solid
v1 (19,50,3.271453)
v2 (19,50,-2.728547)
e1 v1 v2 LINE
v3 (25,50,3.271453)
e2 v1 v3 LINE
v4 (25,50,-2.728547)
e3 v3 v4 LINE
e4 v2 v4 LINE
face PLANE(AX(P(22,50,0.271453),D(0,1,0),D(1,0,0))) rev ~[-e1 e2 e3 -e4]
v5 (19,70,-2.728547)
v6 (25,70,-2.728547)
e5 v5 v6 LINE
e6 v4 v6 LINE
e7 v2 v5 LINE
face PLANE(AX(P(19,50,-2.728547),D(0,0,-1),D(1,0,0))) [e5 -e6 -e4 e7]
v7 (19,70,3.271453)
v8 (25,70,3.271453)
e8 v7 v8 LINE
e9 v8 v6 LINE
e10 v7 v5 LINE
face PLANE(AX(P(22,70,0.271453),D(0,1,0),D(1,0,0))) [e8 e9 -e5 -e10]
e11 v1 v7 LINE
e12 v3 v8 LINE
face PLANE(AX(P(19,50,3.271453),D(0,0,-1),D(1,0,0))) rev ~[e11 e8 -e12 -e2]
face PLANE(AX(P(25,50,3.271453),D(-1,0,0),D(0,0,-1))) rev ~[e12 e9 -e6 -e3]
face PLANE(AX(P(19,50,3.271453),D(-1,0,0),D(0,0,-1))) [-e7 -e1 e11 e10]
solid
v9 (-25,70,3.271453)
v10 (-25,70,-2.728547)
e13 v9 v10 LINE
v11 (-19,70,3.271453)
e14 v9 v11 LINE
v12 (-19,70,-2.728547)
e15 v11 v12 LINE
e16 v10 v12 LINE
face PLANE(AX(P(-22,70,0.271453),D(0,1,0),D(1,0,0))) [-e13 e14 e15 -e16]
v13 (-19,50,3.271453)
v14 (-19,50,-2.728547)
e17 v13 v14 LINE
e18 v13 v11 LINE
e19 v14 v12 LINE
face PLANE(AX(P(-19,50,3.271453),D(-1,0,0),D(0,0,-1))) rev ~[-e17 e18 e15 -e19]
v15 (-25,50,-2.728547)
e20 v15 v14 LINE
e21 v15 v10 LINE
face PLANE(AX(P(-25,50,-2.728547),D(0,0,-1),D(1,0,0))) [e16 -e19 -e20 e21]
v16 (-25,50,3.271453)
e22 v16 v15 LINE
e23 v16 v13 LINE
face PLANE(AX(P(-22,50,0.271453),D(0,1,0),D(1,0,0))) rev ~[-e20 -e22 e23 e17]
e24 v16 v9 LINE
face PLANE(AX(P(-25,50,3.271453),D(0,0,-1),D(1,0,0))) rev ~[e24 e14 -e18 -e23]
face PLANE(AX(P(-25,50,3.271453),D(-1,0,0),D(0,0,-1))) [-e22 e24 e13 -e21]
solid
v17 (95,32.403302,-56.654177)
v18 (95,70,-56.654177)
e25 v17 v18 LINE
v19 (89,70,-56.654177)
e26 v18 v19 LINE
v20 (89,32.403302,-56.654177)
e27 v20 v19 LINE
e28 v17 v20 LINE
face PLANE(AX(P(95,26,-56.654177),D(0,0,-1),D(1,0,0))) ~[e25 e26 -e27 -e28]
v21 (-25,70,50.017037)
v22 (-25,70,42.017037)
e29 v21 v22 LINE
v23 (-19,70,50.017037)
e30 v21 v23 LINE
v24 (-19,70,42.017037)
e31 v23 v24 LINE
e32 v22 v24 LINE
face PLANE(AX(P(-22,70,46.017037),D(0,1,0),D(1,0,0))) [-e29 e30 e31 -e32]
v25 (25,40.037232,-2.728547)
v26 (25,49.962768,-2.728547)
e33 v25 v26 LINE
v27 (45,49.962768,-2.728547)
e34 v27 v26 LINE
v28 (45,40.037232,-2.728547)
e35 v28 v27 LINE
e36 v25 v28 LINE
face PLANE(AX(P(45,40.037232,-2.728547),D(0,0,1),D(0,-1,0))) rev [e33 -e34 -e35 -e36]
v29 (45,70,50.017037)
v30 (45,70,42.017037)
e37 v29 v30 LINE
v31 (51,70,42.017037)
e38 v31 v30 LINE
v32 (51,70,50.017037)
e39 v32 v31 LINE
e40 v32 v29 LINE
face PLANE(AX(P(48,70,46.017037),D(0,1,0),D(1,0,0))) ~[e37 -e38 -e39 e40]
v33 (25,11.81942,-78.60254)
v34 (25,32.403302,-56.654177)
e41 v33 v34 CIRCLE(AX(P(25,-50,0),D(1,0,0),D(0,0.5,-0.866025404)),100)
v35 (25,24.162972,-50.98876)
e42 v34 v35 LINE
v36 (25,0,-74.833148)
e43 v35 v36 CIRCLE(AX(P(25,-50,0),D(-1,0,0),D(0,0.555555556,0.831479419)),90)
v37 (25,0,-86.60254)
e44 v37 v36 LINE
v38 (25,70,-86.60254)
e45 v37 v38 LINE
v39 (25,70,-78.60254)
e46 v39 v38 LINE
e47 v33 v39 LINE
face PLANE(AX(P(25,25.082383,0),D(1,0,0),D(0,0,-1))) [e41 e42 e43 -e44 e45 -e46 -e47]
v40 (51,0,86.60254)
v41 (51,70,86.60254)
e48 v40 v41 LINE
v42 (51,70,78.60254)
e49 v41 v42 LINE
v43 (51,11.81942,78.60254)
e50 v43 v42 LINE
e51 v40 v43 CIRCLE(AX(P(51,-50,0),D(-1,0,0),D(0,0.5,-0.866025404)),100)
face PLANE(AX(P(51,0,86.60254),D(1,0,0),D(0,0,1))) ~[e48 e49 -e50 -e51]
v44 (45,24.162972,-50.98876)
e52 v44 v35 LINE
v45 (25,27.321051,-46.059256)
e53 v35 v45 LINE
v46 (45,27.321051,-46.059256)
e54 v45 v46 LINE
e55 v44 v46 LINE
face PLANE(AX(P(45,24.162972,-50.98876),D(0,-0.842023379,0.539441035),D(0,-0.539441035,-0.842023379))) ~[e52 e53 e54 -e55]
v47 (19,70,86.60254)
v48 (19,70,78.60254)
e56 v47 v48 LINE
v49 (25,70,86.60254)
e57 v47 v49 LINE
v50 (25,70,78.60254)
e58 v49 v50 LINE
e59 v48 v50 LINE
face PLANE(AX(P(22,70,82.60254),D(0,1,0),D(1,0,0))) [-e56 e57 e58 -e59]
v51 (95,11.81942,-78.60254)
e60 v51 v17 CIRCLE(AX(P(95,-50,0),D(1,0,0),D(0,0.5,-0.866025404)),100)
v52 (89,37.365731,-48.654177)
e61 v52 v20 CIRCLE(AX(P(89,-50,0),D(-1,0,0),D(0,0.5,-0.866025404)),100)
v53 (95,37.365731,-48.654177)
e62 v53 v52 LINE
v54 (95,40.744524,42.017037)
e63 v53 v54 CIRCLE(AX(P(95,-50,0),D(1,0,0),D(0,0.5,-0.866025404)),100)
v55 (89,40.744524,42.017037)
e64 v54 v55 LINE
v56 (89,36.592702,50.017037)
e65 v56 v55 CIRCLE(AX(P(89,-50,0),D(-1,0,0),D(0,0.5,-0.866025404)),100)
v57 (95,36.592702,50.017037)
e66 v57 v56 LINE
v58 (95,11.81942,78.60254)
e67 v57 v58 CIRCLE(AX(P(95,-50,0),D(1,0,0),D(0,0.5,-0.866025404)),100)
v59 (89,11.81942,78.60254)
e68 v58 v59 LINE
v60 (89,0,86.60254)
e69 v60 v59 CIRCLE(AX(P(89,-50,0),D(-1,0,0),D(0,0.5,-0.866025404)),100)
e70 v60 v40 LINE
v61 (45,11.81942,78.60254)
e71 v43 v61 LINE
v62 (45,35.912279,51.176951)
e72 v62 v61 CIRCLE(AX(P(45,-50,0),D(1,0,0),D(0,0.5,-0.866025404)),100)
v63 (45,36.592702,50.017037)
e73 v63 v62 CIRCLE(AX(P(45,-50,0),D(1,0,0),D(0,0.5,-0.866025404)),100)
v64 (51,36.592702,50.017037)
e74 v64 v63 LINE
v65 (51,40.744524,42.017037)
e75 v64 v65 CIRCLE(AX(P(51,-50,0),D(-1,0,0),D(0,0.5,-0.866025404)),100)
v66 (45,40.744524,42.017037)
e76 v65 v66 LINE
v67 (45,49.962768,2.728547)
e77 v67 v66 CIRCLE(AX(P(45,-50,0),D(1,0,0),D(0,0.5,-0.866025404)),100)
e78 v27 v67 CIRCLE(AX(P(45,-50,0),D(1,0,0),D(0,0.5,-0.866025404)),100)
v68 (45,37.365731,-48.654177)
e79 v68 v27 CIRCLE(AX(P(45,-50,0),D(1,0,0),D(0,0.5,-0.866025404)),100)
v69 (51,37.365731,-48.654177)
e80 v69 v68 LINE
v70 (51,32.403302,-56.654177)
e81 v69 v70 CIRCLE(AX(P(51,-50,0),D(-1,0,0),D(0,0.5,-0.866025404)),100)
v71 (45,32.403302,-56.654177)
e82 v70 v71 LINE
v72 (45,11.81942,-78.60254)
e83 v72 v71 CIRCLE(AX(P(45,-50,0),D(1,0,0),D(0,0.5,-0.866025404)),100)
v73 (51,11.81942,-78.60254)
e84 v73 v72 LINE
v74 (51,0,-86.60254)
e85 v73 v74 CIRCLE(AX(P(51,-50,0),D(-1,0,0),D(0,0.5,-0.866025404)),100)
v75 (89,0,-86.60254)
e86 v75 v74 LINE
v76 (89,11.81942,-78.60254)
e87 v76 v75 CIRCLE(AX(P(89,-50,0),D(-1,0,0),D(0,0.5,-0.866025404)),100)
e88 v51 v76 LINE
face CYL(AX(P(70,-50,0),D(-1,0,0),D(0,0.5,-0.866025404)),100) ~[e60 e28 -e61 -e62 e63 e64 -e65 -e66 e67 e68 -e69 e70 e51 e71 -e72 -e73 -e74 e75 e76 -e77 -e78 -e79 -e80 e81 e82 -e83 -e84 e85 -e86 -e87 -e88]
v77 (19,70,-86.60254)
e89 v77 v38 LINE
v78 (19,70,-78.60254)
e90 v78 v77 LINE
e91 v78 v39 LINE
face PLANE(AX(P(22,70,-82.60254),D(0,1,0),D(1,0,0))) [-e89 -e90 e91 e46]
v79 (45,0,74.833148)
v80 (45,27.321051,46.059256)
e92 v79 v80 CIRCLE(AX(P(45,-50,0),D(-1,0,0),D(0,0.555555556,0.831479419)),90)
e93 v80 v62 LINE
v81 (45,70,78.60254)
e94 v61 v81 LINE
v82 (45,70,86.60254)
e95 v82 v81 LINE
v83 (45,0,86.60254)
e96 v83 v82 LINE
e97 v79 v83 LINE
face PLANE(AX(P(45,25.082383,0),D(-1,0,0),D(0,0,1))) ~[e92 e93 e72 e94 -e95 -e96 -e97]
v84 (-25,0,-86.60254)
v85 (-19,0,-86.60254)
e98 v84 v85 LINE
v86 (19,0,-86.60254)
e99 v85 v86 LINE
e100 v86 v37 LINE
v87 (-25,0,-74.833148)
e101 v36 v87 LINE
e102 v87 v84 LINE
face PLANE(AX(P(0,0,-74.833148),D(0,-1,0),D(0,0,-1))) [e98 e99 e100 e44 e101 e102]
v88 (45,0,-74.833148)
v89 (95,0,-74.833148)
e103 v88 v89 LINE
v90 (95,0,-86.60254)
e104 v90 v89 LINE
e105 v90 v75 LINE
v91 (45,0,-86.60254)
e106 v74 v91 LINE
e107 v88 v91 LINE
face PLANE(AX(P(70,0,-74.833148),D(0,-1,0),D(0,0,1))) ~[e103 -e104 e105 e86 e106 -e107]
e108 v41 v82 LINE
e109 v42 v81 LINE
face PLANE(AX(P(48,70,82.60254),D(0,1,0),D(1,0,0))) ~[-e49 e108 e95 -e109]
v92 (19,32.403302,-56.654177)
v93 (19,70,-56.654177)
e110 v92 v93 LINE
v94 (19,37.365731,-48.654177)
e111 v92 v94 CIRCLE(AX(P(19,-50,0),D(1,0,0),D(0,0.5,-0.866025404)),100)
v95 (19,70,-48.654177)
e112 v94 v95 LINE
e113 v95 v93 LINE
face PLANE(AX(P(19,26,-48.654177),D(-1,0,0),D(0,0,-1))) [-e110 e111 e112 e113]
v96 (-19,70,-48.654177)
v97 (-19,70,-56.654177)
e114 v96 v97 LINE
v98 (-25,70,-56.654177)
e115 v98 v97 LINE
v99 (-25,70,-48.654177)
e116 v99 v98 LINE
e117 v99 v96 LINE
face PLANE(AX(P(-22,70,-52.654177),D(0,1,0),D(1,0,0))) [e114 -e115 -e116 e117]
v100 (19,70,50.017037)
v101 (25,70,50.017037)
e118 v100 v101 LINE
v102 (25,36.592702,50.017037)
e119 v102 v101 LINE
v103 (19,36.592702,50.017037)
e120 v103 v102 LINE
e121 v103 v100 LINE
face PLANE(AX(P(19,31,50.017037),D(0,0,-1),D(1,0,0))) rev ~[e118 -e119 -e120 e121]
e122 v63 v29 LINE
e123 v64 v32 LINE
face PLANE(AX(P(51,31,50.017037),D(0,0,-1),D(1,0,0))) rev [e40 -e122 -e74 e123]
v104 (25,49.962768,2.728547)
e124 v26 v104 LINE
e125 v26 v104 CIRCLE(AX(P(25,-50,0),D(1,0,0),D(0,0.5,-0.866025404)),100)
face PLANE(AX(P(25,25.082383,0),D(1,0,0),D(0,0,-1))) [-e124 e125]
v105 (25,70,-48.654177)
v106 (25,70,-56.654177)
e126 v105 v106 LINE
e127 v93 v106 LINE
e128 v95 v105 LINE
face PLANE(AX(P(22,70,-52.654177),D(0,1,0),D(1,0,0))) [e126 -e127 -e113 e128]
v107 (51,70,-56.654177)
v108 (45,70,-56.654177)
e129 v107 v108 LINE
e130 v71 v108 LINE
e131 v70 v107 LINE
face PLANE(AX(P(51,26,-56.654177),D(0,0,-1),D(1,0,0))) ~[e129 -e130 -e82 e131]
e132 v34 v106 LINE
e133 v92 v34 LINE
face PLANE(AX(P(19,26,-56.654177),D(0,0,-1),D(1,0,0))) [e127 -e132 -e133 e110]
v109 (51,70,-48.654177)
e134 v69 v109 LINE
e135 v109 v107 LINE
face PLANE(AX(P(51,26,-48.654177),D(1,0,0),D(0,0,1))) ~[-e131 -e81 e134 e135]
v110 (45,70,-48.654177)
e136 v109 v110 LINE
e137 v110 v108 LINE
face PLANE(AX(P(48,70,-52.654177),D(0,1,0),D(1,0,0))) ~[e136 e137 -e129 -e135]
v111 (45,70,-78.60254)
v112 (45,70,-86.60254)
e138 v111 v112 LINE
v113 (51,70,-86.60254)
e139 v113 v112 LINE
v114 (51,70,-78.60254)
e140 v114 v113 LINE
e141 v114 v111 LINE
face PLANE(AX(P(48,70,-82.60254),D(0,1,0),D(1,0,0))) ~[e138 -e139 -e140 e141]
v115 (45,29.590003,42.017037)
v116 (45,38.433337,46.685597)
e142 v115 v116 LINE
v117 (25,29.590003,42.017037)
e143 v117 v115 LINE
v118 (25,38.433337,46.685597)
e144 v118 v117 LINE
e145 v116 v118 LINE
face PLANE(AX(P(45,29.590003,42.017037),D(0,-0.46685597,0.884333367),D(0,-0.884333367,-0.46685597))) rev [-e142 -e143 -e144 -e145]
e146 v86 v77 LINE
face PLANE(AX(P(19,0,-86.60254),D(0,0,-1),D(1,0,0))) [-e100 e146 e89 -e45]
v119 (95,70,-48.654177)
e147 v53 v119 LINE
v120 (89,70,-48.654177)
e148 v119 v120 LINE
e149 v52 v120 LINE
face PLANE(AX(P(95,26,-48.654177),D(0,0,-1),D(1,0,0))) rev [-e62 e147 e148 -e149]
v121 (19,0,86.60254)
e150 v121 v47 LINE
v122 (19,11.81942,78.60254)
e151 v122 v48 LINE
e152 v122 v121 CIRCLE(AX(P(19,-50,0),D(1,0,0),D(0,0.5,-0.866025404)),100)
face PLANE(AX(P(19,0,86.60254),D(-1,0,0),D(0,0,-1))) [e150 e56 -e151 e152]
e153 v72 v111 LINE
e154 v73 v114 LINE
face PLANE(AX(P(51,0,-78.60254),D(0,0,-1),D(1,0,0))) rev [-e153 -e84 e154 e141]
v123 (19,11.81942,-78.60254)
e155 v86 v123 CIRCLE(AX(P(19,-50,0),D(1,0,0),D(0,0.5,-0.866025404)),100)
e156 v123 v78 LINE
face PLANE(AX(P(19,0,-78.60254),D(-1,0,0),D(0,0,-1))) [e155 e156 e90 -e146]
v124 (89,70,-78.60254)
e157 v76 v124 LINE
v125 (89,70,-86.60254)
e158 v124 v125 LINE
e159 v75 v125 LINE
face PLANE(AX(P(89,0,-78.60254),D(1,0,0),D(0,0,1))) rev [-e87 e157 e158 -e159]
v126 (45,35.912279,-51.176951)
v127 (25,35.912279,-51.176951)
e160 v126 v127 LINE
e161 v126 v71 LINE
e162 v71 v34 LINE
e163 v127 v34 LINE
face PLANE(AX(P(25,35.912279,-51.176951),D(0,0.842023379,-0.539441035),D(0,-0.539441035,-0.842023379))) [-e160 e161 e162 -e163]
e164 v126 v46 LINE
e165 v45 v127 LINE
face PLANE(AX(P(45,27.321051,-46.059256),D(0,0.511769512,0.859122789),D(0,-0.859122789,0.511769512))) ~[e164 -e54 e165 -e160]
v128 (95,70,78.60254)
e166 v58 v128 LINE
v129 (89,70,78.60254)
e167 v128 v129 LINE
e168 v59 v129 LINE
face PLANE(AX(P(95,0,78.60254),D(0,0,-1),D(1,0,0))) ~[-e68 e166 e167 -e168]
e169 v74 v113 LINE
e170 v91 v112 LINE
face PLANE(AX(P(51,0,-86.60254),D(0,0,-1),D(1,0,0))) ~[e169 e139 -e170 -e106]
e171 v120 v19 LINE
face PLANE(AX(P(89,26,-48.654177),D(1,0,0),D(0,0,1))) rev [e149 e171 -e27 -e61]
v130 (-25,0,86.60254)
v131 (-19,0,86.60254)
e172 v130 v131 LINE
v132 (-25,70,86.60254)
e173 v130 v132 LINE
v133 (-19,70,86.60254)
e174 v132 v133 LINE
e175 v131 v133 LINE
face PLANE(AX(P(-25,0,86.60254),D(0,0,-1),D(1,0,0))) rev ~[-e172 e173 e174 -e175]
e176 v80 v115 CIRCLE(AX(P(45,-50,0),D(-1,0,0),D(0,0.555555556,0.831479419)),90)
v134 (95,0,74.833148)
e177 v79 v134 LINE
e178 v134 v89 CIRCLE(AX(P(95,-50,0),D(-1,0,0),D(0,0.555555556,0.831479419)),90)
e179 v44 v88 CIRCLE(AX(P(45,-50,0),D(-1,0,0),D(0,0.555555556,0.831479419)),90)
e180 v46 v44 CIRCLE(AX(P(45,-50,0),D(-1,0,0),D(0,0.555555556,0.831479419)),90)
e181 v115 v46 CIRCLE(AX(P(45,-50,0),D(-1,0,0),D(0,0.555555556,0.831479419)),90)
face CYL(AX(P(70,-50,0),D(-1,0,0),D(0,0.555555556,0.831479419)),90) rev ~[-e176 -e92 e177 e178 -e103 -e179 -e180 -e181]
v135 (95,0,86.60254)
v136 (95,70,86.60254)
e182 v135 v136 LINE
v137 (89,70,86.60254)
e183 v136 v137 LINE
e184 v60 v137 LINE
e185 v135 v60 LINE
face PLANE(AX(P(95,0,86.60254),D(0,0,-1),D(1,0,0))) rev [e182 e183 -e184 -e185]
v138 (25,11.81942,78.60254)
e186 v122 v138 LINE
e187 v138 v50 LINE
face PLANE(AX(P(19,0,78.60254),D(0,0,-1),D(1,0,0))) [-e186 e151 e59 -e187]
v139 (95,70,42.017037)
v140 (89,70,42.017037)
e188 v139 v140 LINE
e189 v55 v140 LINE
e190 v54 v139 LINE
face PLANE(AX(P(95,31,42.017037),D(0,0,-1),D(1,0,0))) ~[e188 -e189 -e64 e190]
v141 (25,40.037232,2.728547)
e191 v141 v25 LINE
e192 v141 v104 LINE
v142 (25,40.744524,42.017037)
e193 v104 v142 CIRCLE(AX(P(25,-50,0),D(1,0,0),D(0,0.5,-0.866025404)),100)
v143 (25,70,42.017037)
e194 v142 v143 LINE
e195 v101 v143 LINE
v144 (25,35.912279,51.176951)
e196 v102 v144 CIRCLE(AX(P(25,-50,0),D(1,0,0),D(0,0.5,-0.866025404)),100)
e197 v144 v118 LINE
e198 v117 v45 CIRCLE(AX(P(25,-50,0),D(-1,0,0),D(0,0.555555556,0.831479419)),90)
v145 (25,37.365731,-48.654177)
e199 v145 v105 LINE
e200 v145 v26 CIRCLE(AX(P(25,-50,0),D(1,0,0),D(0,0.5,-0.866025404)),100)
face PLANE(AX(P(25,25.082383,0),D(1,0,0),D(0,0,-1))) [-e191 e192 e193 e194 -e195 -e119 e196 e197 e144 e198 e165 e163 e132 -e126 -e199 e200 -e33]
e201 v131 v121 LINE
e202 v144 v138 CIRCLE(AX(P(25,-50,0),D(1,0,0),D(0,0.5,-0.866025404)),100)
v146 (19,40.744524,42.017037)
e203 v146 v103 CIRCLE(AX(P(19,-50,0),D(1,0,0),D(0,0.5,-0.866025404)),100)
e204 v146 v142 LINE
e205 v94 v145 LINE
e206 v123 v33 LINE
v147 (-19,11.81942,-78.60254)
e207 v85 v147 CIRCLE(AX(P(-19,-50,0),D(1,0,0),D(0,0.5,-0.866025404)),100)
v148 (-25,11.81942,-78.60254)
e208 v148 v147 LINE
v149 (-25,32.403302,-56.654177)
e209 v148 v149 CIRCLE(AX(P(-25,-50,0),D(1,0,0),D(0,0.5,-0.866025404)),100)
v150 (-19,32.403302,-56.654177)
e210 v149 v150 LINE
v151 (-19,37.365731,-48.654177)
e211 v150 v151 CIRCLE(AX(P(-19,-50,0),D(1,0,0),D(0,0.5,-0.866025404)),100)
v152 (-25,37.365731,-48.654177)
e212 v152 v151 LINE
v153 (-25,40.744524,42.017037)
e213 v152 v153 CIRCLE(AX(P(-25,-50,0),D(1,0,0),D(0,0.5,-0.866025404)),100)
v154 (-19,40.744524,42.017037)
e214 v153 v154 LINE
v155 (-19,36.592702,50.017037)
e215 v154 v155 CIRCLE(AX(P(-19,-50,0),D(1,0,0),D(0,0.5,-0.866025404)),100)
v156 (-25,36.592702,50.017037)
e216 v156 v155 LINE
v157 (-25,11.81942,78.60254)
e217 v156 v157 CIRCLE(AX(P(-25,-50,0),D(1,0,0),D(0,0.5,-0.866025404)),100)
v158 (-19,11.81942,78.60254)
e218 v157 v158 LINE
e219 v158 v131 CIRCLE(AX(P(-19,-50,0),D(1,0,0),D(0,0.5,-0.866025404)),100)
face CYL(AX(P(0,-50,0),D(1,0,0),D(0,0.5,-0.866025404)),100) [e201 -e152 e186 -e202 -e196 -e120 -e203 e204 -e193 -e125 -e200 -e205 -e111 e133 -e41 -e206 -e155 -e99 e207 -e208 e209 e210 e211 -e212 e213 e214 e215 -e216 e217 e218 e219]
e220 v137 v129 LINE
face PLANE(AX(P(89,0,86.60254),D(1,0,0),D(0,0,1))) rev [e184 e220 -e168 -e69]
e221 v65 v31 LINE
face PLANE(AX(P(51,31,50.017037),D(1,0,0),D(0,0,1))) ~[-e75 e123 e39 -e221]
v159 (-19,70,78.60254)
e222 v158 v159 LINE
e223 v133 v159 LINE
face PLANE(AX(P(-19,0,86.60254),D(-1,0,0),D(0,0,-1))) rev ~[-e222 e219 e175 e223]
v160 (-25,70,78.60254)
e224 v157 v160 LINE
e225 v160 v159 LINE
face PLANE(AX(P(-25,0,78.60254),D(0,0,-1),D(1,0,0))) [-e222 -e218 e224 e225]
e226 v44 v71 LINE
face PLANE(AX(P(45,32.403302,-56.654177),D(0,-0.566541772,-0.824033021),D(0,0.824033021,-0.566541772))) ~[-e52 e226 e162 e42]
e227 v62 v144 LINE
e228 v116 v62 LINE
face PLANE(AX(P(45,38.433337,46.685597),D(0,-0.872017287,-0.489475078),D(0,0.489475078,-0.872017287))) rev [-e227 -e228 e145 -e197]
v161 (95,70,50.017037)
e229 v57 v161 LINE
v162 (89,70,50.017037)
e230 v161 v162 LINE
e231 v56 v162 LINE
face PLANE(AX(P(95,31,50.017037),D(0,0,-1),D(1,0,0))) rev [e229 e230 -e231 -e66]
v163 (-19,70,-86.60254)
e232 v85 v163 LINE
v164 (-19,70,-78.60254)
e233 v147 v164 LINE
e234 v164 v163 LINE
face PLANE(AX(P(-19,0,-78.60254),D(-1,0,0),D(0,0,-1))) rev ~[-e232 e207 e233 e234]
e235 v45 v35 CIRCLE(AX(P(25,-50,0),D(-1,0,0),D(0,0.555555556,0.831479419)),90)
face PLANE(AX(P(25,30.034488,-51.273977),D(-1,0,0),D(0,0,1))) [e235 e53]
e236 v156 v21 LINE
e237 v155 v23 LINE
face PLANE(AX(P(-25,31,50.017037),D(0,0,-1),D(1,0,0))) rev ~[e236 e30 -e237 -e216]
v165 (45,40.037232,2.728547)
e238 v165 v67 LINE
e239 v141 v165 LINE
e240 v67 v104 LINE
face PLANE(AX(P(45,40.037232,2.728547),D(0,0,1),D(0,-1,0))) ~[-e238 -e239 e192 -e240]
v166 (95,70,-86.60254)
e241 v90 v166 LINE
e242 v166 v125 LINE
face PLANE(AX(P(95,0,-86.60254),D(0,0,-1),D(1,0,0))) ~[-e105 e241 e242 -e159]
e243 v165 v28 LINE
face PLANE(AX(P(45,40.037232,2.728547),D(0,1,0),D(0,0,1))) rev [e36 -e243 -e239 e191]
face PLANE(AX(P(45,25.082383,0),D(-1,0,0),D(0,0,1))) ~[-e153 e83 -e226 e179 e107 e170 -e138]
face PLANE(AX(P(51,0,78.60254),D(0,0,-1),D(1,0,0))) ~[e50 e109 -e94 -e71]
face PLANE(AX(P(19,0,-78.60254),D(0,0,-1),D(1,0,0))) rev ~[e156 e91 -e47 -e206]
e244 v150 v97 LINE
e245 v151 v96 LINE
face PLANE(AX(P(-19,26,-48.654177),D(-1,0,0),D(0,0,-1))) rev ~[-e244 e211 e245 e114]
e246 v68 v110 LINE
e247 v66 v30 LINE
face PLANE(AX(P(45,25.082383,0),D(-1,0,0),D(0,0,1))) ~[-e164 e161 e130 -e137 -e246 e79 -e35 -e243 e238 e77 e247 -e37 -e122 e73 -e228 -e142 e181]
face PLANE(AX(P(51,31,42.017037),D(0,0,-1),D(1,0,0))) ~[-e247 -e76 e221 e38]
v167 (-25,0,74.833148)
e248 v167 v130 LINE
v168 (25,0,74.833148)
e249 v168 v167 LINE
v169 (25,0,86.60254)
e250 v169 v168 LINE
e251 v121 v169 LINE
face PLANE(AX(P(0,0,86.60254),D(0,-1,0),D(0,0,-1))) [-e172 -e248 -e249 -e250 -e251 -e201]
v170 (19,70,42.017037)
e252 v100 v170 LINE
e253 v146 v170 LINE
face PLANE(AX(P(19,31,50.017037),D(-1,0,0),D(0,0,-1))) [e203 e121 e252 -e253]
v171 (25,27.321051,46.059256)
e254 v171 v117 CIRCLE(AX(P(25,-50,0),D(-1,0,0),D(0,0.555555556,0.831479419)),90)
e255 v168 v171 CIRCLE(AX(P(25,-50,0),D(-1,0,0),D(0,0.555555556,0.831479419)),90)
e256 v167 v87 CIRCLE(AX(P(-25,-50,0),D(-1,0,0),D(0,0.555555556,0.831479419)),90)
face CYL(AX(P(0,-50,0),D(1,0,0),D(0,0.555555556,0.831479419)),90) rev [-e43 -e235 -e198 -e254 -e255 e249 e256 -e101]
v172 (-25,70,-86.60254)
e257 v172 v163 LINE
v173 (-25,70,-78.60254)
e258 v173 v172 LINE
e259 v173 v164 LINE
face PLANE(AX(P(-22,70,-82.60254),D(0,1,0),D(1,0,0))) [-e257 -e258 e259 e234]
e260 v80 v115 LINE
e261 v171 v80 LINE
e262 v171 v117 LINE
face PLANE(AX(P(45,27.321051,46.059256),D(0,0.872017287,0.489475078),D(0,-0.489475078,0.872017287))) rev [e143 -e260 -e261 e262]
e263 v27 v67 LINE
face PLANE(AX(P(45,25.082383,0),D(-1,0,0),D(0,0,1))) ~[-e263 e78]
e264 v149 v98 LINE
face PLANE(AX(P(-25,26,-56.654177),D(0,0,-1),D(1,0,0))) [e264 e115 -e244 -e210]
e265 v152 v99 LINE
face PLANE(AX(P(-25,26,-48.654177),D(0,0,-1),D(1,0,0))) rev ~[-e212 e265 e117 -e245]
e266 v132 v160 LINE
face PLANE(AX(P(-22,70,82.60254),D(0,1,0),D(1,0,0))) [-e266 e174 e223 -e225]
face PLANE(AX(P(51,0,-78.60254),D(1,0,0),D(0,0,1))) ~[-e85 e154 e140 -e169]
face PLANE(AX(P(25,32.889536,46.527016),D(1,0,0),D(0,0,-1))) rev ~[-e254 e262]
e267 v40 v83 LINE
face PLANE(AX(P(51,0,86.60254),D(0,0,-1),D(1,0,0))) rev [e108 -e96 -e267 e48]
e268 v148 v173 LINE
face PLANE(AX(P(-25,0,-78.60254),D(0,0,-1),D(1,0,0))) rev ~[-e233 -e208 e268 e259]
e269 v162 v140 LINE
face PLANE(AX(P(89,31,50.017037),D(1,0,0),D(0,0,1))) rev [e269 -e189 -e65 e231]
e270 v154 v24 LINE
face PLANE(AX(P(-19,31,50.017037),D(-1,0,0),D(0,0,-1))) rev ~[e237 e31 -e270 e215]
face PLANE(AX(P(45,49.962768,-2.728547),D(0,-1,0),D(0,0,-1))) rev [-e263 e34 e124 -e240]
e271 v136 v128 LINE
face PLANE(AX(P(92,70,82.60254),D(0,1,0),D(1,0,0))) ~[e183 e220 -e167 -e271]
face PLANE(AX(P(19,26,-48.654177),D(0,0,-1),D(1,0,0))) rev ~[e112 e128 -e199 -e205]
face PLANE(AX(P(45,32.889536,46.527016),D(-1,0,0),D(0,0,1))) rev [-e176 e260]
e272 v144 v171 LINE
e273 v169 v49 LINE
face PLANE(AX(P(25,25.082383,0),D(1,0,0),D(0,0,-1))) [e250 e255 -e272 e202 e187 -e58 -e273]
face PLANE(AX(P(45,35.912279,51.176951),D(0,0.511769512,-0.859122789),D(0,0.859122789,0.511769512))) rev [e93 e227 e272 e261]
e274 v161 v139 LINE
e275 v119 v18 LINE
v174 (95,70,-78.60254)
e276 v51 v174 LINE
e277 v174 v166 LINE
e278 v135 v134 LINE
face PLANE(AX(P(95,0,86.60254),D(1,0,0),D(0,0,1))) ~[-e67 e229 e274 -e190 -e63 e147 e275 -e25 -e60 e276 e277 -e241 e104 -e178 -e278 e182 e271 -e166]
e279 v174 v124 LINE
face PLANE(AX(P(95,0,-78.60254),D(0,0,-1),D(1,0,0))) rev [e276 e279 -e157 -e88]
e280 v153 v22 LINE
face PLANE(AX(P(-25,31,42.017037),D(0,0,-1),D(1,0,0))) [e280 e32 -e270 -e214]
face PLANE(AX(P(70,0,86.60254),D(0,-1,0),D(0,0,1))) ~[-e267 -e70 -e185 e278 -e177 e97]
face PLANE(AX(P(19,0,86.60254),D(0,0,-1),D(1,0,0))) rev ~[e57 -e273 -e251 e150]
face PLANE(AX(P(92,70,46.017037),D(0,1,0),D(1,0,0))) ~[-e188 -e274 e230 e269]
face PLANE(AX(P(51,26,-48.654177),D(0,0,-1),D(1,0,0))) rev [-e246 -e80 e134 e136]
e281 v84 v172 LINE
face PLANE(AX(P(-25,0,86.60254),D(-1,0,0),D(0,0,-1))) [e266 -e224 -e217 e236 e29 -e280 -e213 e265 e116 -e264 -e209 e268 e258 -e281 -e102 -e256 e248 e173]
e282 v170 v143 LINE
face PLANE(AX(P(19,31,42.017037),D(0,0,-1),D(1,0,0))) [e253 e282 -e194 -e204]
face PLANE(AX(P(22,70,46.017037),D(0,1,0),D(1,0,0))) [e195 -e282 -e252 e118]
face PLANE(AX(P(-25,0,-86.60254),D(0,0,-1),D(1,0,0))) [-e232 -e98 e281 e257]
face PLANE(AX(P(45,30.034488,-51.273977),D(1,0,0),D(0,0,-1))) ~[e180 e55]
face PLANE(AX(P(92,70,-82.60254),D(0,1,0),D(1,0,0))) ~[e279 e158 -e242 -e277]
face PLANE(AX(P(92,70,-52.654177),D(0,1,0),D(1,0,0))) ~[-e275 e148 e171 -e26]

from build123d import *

# Parameters (mm, degrees)
BOSS_EXTRUDE1_DEPTH   = 25
SKETCH5_W             = 2.728546834
SKETCH5_H             = 9.92553646
BOSS_EXTRUDE3_DEPTH   = 10
BOSS_EXTRUDE4_DEPTH   = 10
BOSS_EXTRUDE5_START   = -50
SKETCH7_W             = 6
SKETCH7_H             = 8
BOSS_EXTRUDE5_DEPTH   = 70
BOSS_EXTRUDE6_START   = -50
SKETCH7_3_W           = 6
SKETCH7_3_H           = 8
BOSS_EXTRUDE6_DEPTH   = 70
BOSS_EXTRUDE7_START   = -19
SKETCH7_4_W           = 6
SKETCH7_4_H           = 8
BOSS_EXTRUDE7_DEPTH   = 39
SKETCH7_5_W           = 6
SKETCH7_5_H           = 6
BOSS_EXTRUDE8_DEPTH   = 20
BOSS_EXTRUDE8_2_DEPTH = 20
BOSS_EXTRUDE9_START   = -24
SKETCH7_6_W           = 6
SKETCH7_6_H           = 8
BOSS_EXTRUDE9_DEPTH   = 44
BOSS_EXTRUDE10_START  = -50
SKETCH7_7_W           = 6
SKETCH7_7_H           = 8
BOSS_EXTRUDE10_DEPTH  = 70


with BuildPart() as part:
    # Sketch2 → Boss-Extrude1 (new, symmetric)
    with BuildSketch(Plane(origin=(0, 0, 0), x_dir=(0, 0, -1), z_dir=(1, 0, 0))):
        with BuildLine():
            Line((74.833147735, 0), (86.602540378, 0))
            ThreePointArc((86.602540378, 0), (0, 50), (-86.602540378, 0))
            Line((-86.602540378, 0), (-74.833147735, 0))
            ThreePointArc((-74.833147735, 0), (0, 40), (74.833147735, 0))
        make_face()
    boss_extrude1 = extrude(amount=BOSS_EXTRUDE1_DEPTH, both=True)

    # Sketch5 → Boss-Extrude3 (add)
    with BuildSketch(Plane(origin=(25, 0, 0), x_dir=(0, 0, -1), z_dir=(1, 0, 0))):
        with Locations((-1.364273417, 45)):
            Rectangle(SKETCH5_W, SKETCH5_H)
        with Locations((1.364273417, 45)):
            Rectangle(SKETCH5_W, SKETCH5_H)
    boss_extrude3 = extrude(amount=BOSS_EXTRUDE3_DEPTH)

    # Sketch6 → Boss-Extrude4 (add)
    with BuildSketch(Plane(origin=(25, 0, 0), x_dir=(0, 0, -1), z_dir=(1, 0, 0))):
        Polygon((-51.176951237, 35.912278878), (-46.059256113, 27.321050991), (-42.017037291, 29.590002999), (-46.68559699, 38.433336665), align=None)
        Polygon((46.059256113, 27.321050991), (51.176951237, 35.912278878), (56.654177251, 32.403302118), (50.988759526, 24.162971906), align=None)
    boss_extrude4 = extrude(amount=BOSS_EXTRUDE4_DEPTH)

    # Sketch7 → Boss-Extrude5 (add)
    with BuildSketch(Plane(origin=(0, 50, 0), x_dir=(1, 0, 0), z_dir=(0, 1, 0)).offset(BOSS_EXTRUDE5_START)):
        with Locations((22, -82.602540378)):
            Rectangle(SKETCH7_W, SKETCH7_H)
    boss_extrude5 = extrude(amount=BOSS_EXTRUDE5_DEPTH)

    # Sketch7_3 → Boss-Extrude6 (add)
    with BuildSketch(Plane(origin=(0, 50, 0), x_dir=(1, 0, 0), z_dir=(0, 1, 0)).offset(BOSS_EXTRUDE6_START)):
        with Locations((-22, -82.602540378)):
            Rectangle(SKETCH7_3_W, SKETCH7_3_H)
    boss_extrude6 = extrude(amount=BOSS_EXTRUDE6_DEPTH)

    # Sketch7_4 → Boss-Extrude7 (add)
    with BuildSketch(Plane(origin=(0, 50, 0), x_dir=(1, 0, 0), z_dir=(0, 1, 0)).offset(BOSS_EXTRUDE7_START)):
        with Locations((22, -46.017037291)):
            Rectangle(SKETCH7_4_W, SKETCH7_4_H)
        with Locations((-22, -46.017037291)):
            Rectangle(SKETCH7_4_W, SKETCH7_4_H)
    boss_extrude7 = extrude(amount=BOSS_EXTRUDE7_DEPTH)

    # Sketch7_6 → Boss-Extrude9 (add)
    with BuildSketch(Plane(origin=(0, 50, 0), x_dir=(1, 0, 0), z_dir=(0, 1, 0)).offset(BOSS_EXTRUDE9_START)):
        with Locations((22, 52.654177251)):
            Rectangle(SKETCH7_6_W, SKETCH7_6_H)
        with Locations((-22, 52.654177251)):
            Rectangle(SKETCH7_6_W, SKETCH7_6_H)
    boss_extrude9 = extrude(amount=BOSS_EXTRUDE9_DEPTH)

    # Sketch7_7 → Boss-Extrude10 (add)
    with BuildSketch(Plane(origin=(0, 50, 0), x_dir=(1, 0, 0), z_dir=(0, 1, 0)).offset(BOSS_EXTRUDE10_START)):
        with Locations((22, 82.602540378)):
            Rectangle(SKETCH7_7_W, SKETCH7_7_H)
        with Locations((-22, 82.602540378)):
            Rectangle(SKETCH7_7_W, SKETCH7_7_H)
    boss_extrude10 = extrude(amount=BOSS_EXTRUDE10_DEPTH)

    # Mirror7: Boss-Extrude1, Boss-Extrude3, Boss-Extrude4, Boss-Extrude5, Boss-Extrude6, Boss-Extrude7, Boss-Extrude9, Boss-Extrude10 across plane
    add(boss_extrude1.mirror(Plane(origin=(35, 0, 0), x_dir=(0, 0, 1), z_dir=(1, 0, 0))))
    add(boss_extrude3.mirror(Plane(origin=(35, 0, 0), x_dir=(0, 0, 1), z_dir=(1, 0, 0))))
    add(boss_extrude4.mirror(Plane(origin=(35, 0, 0), x_dir=(0, 0, 1), z_dir=(1, 0, 0))))
    add(boss_extrude5.mirror(Plane(origin=(35, 0, 0), x_dir=(0, 0, 1), z_dir=(1, 0, 0))))
    add(boss_extrude6.mirror(Plane(origin=(35, 0, 0), x_dir=(0, 0, 1), z_dir=(1, 0, 0))))
    add(boss_extrude7.mirror(Plane(origin=(35, 0, 0), x_dir=(0, 0, 1), z_dir=(1, 0, 0))))
    add(boss_extrude9.mirror(Plane(origin=(35, 0, 0), x_dir=(0, 0, 1), z_dir=(1, 0, 0))))
    add(boss_extrude10.mirror(Plane(origin=(35, 0, 0), x_dir=(0, 0, 1), z_dir=(1, 0, 0))))


with BuildPart() as body_2:
    # Sketch7_5 → Boss-Extrude8 (new body)
    with BuildSketch(Plane(origin=(0, 50, 0), x_dir=(1, 0, 0), z_dir=(0, 1, 0))):
        with Locations((22, -0.271453166)):
            Rectangle(SKETCH7_5_W, SKETCH7_5_H)
    extrude(amount=BOSS_EXTRUDE8_DEPTH)


with BuildPart() as body_3:
    # Sketch7_5 → Boss-Extrude8 2 (new body)
    with BuildSketch(Plane(origin=(0, 50, 0), x_dir=(1, 0, 0), z_dir=(0, 1, 0))):
        with Locations((-22, -0.271453166)):
            Rectangle(SKETCH7_5_W, SKETCH7_5_H)
    extrude(amount=BOSS_EXTRUDE8_2_DEPTH)


solid = Compound([part.part, body_2.part, body_3.part])
